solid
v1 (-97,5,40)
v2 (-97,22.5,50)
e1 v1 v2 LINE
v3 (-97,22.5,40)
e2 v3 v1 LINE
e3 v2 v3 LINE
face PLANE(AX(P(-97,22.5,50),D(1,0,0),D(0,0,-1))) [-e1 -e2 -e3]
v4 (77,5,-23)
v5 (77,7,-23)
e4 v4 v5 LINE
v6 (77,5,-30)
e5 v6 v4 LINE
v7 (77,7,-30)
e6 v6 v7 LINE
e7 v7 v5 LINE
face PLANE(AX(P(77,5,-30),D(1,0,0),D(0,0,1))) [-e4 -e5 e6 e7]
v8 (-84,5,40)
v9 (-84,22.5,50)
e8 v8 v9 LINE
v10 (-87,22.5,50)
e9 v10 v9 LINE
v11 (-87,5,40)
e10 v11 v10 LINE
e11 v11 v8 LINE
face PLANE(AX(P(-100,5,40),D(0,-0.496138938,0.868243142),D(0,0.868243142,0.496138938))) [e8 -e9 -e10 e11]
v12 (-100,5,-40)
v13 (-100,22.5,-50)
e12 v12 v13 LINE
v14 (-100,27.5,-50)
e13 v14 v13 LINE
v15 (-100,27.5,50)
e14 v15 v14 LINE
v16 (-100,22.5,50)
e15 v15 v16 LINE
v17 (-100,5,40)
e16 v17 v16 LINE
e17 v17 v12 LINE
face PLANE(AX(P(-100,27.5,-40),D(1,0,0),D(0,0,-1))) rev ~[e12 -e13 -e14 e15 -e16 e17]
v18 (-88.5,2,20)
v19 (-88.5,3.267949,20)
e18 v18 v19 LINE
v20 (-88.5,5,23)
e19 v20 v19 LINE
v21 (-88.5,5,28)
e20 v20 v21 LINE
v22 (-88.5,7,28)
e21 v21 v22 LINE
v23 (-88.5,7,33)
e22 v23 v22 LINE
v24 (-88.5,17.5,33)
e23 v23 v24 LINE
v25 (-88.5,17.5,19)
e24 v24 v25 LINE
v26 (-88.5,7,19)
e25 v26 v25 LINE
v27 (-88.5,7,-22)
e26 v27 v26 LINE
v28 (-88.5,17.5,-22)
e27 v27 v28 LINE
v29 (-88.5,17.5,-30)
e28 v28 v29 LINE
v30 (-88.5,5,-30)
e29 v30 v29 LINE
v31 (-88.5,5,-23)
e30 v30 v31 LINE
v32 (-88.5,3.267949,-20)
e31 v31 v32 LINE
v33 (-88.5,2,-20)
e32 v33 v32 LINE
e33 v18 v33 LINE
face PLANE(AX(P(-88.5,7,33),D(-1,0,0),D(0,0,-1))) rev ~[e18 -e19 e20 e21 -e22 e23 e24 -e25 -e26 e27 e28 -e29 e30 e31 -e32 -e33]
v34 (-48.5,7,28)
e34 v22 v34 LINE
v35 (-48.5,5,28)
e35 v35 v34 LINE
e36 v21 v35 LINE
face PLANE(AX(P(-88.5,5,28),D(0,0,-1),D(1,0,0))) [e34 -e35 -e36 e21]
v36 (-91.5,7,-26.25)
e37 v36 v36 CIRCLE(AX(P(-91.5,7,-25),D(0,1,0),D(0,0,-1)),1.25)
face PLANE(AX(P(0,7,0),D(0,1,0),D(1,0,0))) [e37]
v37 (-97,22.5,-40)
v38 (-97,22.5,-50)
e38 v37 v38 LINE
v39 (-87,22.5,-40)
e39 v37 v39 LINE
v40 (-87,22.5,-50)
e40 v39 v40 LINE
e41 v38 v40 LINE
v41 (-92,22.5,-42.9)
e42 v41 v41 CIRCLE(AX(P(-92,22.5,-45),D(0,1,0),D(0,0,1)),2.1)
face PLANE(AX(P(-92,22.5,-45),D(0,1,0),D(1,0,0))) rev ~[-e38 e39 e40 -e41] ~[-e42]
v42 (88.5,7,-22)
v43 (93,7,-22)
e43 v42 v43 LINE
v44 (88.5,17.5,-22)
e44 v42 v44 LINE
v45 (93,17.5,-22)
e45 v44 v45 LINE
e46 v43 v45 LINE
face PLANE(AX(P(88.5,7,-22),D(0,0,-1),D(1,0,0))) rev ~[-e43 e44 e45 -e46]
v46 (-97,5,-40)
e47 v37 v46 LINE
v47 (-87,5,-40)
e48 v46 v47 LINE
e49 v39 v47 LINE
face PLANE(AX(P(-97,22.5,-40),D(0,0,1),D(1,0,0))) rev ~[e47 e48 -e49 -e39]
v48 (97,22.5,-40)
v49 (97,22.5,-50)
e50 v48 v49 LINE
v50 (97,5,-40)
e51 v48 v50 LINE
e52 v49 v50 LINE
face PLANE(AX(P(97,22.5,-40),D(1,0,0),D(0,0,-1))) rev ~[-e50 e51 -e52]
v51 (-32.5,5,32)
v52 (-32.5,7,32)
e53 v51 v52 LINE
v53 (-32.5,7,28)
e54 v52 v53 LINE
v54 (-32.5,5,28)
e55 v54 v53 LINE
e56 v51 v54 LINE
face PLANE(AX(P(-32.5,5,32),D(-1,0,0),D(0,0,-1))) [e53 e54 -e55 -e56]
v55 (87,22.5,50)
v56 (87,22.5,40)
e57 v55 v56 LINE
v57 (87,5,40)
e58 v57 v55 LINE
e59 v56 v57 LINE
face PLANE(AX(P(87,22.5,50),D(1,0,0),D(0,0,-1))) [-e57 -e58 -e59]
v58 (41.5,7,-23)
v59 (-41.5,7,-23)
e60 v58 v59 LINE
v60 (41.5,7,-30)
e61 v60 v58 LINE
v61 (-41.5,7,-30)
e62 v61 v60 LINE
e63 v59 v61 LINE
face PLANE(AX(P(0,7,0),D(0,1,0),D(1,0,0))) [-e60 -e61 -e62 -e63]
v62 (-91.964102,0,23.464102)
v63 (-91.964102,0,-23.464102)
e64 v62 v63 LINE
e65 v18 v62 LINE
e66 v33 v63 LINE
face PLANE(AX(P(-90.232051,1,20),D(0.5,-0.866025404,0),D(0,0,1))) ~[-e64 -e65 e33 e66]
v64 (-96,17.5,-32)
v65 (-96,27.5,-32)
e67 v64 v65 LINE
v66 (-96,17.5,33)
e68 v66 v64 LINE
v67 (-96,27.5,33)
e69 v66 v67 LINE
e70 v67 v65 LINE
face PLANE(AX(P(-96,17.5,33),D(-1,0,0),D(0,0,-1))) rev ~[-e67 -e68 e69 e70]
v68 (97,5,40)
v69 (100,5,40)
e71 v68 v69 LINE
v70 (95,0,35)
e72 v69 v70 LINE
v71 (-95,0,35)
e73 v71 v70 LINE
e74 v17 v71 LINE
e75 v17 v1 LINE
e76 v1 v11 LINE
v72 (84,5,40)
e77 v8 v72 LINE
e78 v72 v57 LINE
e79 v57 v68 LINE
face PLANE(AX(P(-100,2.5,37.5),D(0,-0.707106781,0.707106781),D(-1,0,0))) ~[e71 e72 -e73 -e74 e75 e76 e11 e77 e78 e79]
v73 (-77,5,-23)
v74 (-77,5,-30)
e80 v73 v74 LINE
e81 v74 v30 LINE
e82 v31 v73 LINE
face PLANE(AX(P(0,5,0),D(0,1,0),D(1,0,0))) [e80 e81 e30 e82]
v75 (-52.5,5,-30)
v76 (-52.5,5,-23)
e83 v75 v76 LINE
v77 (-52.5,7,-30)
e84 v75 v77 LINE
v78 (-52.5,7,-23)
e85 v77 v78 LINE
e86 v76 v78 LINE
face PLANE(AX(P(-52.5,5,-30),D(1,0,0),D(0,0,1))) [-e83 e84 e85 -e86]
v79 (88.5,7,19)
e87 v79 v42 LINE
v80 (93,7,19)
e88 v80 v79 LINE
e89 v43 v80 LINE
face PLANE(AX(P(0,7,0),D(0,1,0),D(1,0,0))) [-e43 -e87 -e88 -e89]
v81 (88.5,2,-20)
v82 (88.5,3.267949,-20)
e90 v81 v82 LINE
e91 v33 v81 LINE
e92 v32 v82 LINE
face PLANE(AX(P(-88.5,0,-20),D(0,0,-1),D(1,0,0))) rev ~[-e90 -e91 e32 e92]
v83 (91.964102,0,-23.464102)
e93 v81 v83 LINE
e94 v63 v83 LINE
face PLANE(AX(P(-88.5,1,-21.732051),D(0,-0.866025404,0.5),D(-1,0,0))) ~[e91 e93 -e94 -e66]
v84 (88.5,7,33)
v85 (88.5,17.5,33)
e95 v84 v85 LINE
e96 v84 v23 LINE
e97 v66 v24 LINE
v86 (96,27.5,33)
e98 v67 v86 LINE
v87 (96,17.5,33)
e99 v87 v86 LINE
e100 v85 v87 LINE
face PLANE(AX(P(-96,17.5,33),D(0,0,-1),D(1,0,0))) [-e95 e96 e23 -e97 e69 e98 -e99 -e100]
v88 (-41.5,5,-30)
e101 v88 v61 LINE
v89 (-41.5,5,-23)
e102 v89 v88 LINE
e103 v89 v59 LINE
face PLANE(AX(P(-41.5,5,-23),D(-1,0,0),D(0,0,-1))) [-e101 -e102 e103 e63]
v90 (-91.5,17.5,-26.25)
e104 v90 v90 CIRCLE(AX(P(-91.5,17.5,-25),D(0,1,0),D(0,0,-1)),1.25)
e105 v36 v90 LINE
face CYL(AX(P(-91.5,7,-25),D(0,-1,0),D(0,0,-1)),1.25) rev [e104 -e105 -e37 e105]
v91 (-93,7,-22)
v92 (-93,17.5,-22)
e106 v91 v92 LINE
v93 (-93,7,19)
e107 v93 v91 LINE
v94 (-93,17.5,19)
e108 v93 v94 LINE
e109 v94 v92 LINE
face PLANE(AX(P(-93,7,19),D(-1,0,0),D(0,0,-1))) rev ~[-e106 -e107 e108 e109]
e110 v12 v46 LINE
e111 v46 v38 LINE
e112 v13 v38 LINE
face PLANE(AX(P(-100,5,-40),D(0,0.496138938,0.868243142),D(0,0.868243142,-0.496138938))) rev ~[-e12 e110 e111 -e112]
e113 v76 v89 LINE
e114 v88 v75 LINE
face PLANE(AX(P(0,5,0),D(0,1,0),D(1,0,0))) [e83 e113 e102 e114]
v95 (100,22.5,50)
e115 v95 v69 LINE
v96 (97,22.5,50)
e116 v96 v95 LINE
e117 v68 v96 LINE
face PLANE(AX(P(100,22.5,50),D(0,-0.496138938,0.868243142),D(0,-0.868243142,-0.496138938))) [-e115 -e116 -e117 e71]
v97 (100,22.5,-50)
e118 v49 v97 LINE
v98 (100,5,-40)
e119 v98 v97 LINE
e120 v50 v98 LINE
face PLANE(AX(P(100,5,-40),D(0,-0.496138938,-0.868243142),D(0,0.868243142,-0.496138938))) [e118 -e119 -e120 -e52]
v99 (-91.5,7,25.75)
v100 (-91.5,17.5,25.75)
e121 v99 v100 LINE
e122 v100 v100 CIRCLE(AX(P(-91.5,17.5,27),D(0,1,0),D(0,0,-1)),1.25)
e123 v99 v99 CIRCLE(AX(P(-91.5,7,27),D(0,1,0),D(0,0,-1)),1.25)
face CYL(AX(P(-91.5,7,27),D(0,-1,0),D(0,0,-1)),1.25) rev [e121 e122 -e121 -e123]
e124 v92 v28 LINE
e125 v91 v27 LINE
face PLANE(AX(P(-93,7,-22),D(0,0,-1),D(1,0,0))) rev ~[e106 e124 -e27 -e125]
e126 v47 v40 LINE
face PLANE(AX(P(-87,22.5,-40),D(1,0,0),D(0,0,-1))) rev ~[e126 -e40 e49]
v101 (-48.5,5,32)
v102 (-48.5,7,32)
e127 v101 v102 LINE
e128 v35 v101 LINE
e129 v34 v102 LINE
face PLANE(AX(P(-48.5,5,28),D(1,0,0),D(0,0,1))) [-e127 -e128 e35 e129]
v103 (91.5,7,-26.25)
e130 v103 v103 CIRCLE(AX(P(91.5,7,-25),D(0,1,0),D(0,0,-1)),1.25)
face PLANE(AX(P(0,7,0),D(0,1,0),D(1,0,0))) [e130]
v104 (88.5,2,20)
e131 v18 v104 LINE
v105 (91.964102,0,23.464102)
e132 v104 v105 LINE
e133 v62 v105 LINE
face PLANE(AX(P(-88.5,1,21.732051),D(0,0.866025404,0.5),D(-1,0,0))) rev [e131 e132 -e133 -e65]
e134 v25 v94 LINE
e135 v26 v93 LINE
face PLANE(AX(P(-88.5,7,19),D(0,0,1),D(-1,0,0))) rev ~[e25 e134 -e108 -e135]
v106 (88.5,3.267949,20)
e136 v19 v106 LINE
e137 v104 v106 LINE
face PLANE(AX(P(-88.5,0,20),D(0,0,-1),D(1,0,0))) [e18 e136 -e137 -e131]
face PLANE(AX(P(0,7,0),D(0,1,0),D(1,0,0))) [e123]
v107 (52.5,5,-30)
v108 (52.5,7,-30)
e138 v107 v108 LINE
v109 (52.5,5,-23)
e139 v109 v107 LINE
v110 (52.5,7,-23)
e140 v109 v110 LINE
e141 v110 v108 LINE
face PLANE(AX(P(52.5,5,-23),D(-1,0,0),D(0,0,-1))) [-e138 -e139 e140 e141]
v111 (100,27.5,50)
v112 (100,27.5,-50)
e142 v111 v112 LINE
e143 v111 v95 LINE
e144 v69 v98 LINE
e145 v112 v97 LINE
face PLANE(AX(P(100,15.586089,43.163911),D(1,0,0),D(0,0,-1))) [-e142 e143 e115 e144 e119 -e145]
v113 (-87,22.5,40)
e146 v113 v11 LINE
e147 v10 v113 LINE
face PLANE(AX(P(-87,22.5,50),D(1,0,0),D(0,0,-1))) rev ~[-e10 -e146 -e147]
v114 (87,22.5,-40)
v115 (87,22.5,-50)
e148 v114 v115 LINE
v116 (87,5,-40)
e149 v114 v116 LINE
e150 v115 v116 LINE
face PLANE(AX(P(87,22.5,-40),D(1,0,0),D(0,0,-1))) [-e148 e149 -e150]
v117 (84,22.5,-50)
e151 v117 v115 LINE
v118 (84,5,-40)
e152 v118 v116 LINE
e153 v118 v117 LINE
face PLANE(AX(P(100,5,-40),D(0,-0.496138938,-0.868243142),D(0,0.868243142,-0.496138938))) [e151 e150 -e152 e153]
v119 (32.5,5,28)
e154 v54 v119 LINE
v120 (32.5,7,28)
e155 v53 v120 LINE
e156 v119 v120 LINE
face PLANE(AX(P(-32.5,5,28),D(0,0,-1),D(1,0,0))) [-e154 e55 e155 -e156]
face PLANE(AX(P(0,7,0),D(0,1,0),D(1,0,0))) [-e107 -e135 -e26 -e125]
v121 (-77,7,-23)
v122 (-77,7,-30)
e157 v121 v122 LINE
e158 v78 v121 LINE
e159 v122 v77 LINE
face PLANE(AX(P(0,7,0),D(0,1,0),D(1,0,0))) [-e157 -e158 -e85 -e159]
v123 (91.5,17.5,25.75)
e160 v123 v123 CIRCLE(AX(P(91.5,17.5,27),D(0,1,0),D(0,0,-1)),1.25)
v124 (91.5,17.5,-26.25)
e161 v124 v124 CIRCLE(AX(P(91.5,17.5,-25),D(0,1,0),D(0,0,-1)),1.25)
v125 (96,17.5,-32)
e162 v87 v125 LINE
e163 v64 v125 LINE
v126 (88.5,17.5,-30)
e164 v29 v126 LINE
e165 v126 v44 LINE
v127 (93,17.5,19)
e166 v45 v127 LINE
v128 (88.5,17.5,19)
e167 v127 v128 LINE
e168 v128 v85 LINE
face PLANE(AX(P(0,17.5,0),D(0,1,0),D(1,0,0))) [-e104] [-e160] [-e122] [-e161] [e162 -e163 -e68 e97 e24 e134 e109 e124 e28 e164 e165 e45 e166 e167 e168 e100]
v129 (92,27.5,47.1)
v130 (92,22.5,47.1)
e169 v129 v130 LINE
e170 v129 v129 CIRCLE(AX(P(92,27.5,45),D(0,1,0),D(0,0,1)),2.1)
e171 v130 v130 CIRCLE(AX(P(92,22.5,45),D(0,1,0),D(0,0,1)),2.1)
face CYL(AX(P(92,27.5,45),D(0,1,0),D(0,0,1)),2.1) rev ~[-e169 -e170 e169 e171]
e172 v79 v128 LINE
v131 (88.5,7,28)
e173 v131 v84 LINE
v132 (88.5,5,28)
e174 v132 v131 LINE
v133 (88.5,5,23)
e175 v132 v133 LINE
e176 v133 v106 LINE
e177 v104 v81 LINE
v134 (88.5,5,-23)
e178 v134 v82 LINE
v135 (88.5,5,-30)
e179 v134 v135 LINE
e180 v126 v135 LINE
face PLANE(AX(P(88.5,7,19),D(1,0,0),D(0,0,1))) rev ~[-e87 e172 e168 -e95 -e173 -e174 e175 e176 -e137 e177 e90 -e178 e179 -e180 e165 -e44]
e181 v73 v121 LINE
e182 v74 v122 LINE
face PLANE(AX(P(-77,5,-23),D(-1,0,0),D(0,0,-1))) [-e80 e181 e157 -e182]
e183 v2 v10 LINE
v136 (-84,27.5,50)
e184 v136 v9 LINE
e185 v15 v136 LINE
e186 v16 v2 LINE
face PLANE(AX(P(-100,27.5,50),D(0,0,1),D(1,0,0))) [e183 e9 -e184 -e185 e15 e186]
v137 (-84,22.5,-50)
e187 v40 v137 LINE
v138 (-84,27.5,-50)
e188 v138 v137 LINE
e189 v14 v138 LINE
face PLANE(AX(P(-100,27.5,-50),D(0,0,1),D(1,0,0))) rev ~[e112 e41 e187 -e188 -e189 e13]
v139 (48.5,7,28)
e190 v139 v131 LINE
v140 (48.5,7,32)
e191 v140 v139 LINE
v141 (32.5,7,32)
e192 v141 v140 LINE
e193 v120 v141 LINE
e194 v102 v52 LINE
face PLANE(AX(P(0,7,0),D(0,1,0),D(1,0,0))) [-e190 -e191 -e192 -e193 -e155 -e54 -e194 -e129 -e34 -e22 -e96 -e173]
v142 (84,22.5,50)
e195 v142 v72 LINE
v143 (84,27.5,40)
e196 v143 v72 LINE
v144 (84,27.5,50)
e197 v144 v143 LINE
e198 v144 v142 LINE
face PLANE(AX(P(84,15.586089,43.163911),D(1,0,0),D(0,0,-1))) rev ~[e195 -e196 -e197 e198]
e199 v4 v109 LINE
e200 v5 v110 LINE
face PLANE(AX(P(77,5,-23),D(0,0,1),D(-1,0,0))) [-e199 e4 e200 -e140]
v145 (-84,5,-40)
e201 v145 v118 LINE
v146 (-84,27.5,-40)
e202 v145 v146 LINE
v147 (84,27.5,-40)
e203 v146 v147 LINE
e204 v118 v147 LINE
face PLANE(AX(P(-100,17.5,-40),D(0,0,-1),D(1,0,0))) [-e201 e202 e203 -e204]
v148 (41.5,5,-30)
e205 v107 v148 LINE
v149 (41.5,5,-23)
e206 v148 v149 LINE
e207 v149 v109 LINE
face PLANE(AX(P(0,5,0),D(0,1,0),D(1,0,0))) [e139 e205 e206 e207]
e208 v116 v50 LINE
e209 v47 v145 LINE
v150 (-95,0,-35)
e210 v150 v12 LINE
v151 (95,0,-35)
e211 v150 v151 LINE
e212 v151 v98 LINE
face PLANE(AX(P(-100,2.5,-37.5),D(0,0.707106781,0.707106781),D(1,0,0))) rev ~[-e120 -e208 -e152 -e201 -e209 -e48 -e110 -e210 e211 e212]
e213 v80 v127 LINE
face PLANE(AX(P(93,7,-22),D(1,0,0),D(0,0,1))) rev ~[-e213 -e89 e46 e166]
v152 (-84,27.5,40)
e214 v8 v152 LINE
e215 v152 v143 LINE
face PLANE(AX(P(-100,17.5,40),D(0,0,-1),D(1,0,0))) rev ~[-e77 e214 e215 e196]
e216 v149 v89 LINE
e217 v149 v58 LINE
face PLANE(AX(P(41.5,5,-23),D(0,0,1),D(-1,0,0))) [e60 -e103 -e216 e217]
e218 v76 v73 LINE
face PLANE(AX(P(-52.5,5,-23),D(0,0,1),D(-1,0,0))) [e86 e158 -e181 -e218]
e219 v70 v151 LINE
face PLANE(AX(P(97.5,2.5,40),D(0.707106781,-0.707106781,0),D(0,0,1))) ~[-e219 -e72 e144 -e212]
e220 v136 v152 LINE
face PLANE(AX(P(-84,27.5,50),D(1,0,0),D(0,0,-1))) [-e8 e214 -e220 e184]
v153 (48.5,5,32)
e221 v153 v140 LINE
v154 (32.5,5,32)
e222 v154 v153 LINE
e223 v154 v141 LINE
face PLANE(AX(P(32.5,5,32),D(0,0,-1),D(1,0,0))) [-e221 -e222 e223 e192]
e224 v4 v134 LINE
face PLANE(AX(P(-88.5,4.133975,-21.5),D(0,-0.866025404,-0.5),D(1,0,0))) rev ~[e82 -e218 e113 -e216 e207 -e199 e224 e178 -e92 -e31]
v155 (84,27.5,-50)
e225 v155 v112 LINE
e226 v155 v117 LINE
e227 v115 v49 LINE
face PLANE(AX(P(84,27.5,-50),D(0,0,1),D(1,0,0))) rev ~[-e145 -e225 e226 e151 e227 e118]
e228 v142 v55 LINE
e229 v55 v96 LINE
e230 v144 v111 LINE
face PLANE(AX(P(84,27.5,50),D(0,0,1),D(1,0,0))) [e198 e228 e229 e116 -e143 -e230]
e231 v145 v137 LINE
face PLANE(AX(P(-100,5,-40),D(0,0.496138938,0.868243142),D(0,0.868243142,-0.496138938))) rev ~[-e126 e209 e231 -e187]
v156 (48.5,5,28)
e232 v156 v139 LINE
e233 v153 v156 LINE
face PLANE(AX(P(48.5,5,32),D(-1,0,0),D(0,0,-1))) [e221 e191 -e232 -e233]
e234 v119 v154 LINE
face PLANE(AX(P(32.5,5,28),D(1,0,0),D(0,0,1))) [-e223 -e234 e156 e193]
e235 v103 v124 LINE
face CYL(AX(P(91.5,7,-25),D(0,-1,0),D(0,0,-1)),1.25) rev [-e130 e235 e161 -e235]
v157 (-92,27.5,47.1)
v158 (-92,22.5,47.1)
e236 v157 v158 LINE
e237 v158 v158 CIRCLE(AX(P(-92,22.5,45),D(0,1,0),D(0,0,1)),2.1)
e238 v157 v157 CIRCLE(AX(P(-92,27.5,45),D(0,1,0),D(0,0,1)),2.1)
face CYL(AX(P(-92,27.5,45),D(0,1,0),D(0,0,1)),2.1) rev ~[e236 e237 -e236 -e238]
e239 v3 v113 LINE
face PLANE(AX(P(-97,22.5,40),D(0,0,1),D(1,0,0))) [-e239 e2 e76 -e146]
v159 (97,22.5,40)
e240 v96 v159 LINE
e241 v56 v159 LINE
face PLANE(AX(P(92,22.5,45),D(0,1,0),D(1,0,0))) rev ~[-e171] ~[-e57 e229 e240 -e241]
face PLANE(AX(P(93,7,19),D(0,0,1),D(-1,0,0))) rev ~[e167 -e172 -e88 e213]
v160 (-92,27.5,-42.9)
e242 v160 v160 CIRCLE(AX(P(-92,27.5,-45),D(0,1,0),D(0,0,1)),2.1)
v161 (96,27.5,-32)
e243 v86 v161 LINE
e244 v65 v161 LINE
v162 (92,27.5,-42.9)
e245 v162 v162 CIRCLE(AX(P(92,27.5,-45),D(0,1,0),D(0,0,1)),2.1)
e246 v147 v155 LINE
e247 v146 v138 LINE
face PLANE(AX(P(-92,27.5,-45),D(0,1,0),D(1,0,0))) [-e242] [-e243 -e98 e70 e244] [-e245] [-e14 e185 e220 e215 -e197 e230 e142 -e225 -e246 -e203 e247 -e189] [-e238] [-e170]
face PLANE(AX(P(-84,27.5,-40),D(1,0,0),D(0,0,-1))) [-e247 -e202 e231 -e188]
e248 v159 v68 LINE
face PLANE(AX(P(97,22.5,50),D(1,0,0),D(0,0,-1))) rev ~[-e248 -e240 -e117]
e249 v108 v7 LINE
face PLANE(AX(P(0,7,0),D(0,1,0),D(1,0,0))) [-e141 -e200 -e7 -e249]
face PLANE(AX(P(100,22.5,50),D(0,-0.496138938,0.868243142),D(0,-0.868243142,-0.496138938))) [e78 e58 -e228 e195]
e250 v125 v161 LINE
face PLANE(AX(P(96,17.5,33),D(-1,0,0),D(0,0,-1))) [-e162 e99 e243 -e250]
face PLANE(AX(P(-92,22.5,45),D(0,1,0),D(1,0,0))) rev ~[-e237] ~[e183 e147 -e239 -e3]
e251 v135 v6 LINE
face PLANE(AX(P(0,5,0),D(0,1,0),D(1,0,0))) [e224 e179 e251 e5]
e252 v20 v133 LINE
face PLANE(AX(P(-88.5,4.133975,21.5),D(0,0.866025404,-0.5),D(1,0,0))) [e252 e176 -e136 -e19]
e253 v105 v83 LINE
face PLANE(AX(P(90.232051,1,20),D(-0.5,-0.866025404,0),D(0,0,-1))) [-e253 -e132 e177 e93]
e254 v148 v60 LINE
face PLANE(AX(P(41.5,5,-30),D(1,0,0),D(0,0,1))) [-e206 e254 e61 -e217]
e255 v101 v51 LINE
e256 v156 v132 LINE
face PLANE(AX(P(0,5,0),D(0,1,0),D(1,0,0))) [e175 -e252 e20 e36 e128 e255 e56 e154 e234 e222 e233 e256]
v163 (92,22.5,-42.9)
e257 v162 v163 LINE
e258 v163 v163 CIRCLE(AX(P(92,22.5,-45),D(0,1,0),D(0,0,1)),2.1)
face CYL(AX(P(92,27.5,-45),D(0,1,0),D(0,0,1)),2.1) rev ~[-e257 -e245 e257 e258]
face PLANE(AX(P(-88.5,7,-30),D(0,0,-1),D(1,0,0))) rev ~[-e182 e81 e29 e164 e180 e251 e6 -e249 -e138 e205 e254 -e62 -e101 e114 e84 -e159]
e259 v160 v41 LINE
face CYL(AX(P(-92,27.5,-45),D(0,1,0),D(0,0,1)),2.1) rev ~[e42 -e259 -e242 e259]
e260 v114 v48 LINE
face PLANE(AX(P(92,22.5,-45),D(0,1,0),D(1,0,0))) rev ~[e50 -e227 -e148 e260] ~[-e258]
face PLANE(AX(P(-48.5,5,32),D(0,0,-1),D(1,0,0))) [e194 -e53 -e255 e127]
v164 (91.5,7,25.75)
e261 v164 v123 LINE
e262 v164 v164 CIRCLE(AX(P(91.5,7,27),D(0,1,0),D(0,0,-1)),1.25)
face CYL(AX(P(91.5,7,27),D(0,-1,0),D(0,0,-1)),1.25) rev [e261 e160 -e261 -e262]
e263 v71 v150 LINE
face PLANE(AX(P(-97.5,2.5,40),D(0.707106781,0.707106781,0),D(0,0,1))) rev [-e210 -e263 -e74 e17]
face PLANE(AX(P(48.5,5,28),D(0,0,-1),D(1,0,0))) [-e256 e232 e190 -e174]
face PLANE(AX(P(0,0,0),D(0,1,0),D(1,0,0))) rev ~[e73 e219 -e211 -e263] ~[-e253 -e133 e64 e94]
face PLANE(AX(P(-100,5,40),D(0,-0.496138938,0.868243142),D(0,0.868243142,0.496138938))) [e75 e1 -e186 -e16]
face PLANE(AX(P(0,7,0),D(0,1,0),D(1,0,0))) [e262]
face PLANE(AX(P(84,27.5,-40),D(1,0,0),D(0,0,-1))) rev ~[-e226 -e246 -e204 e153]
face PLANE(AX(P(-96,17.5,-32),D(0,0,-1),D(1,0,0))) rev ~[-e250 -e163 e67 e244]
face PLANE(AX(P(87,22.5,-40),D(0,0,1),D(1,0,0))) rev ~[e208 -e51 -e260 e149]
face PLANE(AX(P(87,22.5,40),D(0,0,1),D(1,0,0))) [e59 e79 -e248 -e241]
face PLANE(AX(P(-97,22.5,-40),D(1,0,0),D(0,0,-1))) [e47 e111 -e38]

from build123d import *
from OCP.BRepFilletAPI import BRepFilletAPI_MakeChamfer

# Parameters (mm, degrees)
SKETCH_1_W          = 200
SKETCH_1_H          = 80
SKETCH_1_W_2        = 177
SKETCH_1_H_2        = 40
EXTRUDE_1_DEPTH     = 5
CHAMFER_1_SIZE      = 3
CHAMFER_1_SIZE2     = 1.732050808
SKETCH_2_W          = 200
SKETCH_2_H          = 80
EXTRUDE_2_DEPTH     = 2
SKETCH_3_W          = 200
SKETCH_3_H          = 80
SKETCH_3_R          = 1.25
EXTRUDE_3_DEPTH     = 10.5
SKETCH_4_W          = 200
SKETCH_4_H          = 80
SKETCH_4_W_2        = 192
SKETCH_4_H_2        = 65
EXTRUDE_4_DEPTH     = 10
CHAMFER_2_SIZE      = 5
SKETCH_6_W          = 16
SKETCH_6_H          = 10
SKETCH_6_R          = 2.1
EXTRUDE_6_DEPTH     = 5
EXTRUDE_9_DEPTH     = 16
EXTRUDE_10_DEPTH    = 16
SKETCH_12_W         = 10
SKETCH_12_H         = 10
CUT_EXTRUDE_2_DEPTH = 22
CHAMFER_3_SIZE      = 2
CHAMFER_3_SIZE2     = 3.464101615


with BuildPart() as part:
    # Эскиз1 → Бобышка-Вытянуть1 (new body)
    with BuildSketch(Plane(origin=(0, 0, 0), x_dir=(1, 0, 0), z_dir=(0, 1, 0))):
        Rectangle(SKETCH_1_W, SKETCH_1_H)
        Rectangle(SKETCH_1_W_2, SKETCH_1_H_2, mode=Mode.SUBTRACT)
    extrude(amount=EXTRUDE_1_DEPTH)

    # Фаска1
    chamfer_1_edges = [part.edges().sort_by_distance(p)[0] for p in [
        (0, 5, -20),
        (0, 5, 20),
    ]]
    chamfer_1_side = [part.faces().sort_by_distance(p)[0] for p in [
        (0, 5, -37.845934077),
    ]]
    chamfer(chamfer_1_edges, length=CHAMFER_1_SIZE, length2=CHAMFER_1_SIZE2, reference=chamfer_1_side[0])

    # Эскиз2 → Бобышка-Вытянуть2 (add)
    with BuildSketch(Plane(origin=(0, 5, 0), x_dir=(1, 0, 0), z_dir=(0, 1, 0))):
        Rectangle(SKETCH_2_W, SKETCH_2_H)
        Polygon((-88.5, 30), (-88.5, -28), (-48.5, -28), (-48.5, -32), (-32.5, -32), (-32.5, -28), (32.5, -28), (32.5, -32), (48.5, -32), (48.5, -28), (88.5, -28), (88.5, 30), (77, 30), (77, 23), (52.5, 23), (52.5, 30), (41.5, 30), (41.5, 23), (-41.5, 23), (-41.5, 30), (-52.5, 30), (-52.5, 23), (-77, 23), (-77, 30), align=None, mode=Mode.SUBTRACT)
    extrude(amount=EXTRUDE_2_DEPTH)

    # Эскиз3 → Бобышка-Вытянуть3 (add)
    with BuildSketch(Plane(origin=(0, 7, 0), x_dir=(1, 0, 0), z_dir=(0, 1, 0))):
        Rectangle(SKETCH_3_W, SKETCH_3_H)
        with Locations(Location((-91.5, 25, 0), (0, 0, 90))):
            Circle(SKETCH_3_R, mode=Mode.SUBTRACT)
        with Locations(Location((91.5, 25, 0), (0, 0, 90))):
            Circle(SKETCH_3_R, mode=Mode.SUBTRACT)
        with Locations(Location((-91.5, -27, 0), (0, 0, 90))):
            Circle(SKETCH_3_R, mode=Mode.SUBTRACT)
        with Locations(Location((91.5, -27, 0), (0, 0, 90))):
            Circle(SKETCH_3_R, mode=Mode.SUBTRACT)
        Polygon((-93, 22), (-88.5, 22), (-88.5, 30), (88.5, 30), (88.5, 22), (93, 22), (93, -19), (88.5, -19), (88.5, -33), (-88.5, -33), (-88.5, -19), (-93, -19), align=None, mode=Mode.SUBTRACT)
    extrude(amount=EXTRUDE_3_DEPTH)

    # Эскиз4 → Бобышка-Вытянуть4 (add)
    with BuildSketch(Plane(origin=(0, 17.5, 0), x_dir=(1, 0, 0), z_dir=(0, 1, 0))):
        Rectangle(SKETCH_4_W, SKETCH_4_H)
        with Locations((0, -0.5)):
            Rectangle(SKETCH_4_W_2, SKETCH_4_H_2, mode=Mode.SUBTRACT)
    extrude(amount=EXTRUDE_4_DEPTH)

    # Фаска2
    chamfer_2_edges = [part.edges().sort_by_distance(p)[0] for p in [
        (0, 0, -40),
        (100, 0, 0),
        (0, 0, 40),
        (-100, 0, 0),
    ]]
    chamfer(chamfer_2_edges, length=CHAMFER_2_SIZE)

    # Эскиз6 → Бобышка-Вытянуть6 (add)
    # profile 1 of 4: a face of its own
    with BuildSketch(Plane(origin=(0, 27.5, 0), x_dir=(1, 0, 0), z_dir=(0, 1, 0))):
        with Locations((-92, 45)):
            Rectangle(SKETCH_6_W, SKETCH_6_H)
        with Locations(Location((-92, 45, 0), (0, 0, 270))):
            Circle(SKETCH_6_R, mode=Mode.SUBTRACT)
    # profile 2 of 4: a face of its own
    with BuildSketch(Plane(origin=(0, 27.5, 0), x_dir=(1, 0, 0), z_dir=(0, 1, 0))):
        with Locations((92, 45)):
            Rectangle(SKETCH_6_W, SKETCH_6_H)
        with Locations(Location((92, 45, 0), (0, 0, 270))):
            Circle(SKETCH_6_R, mode=Mode.SUBTRACT)
    # profile 3 of 4: a face of its own
    with BuildSketch(Plane(origin=(0, 27.5, 0), x_dir=(1, 0, 0), z_dir=(0, 1, 0))):
        with Locations((92, -45)):
            Rectangle(SKETCH_6_W, SKETCH_6_H)
        with Locations(Location((92, -45, 0), (0, 0, 270))):
            Circle(SKETCH_6_R, mode=Mode.SUBTRACT)
    # profile 4 of 4: a face of its own
    with BuildSketch(Plane(origin=(0, 27.5, 0), x_dir=(1, 0, 0), z_dir=(0, 1, 0))):
        with Locations((-92, -45)):
            Rectangle(SKETCH_6_W, SKETCH_6_H)
        with Locations(Location((-92, -45, 0), (0, 0, 270))):
            Circle(SKETCH_6_R, mode=Mode.SUBTRACT)
    extrude(amount=-EXTRUDE_6_DEPTH)

    # Эскиз10 → Бобышка-Вытянуть9 (add)
    with BuildSketch(Plane(origin=(100, 0, 0), x_dir=(0, 0, -1), z_dir=(1, 0, 0))):
        Polygon((-50, 22.5), (-40, 5), (-40, 22.5), align=None)
        Polygon((40, 5), (50, 22.5), (40, 22.5), align=None)
    extrude(amount=-EXTRUDE_9_DEPTH)

    # Эскиз11 → Бобышка-Вытянуть10 (add)
    with BuildSketch(Plane.ZY.offset(100)):
        Polygon((-50, 22.5), (-40, 22.5), (-40, 5), align=None)
        Polygon((40, 5), (50, 22.5), (40, 22.5), align=None)
    extrude(amount=-EXTRUDE_10_DEPTH)

    # Эскиз12 → Вырез-Вытянуть2 (cut)
    with BuildSketch(Plane(origin=(0, 22.5, 0), x_dir=(1, 0, 0), z_dir=(0, 1, 0))):
        with Locations((-92, -45)):
            Rectangle(SKETCH_12_W, SKETCH_12_H)
        with Locations((-92, 45)):
            Rectangle(SKETCH_12_W, SKETCH_12_H)
        with Locations((92, 45)):
            Rectangle(SKETCH_12_W, SKETCH_12_H)
        with Locations((92, -45)):
            Rectangle(SKETCH_12_W, SKETCH_12_H)
    extrude(amount=-CUT_EXTRUDE_2_DEPTH, mode=Mode.SUBTRACT)

    # Фаска3: one chamfer whose edges measure the first distance from different faces: ONE call of the kernel's chamfer builder (chamfer() names one face for all edges)
    chamfer_3_edges_1 = [part.edges().sort_by_distance(p)[0] for p in [
        (88.5, 0, 0),
    ]]
    chamfer_3_side_1 = [part.faces().sort_by_distance(p)[0] for p in [
        (88.5, 1.633974596, -19.346146041),
    ]]
    chamfer_3_edges_2 = [part.edges().sort_by_distance(p)[0] for p in [
        (0, 0, -20),
    ]]
    chamfer_3_side_2 = [part.faces().sort_by_distance(p)[0] for p in [
        (0, 1.633974596, -20),
    ]]
    chamfer_3_edges_3 = [part.edges().sort_by_distance(p)[0] for p in [
        (-88.5, 0, 0),
    ]]
    chamfer_3_side_3 = [part.faces().sort_by_distance(p)[0] for p in [
        (-88.5, 1.633974596, 19.346146041),
    ]]
    chamfer_3_edges_4 = [part.edges().sort_by_distance(p)[0] for p in [
        (0, 0, 20),
    ]]
    chamfer_3_side_4 = [part.faces().sort_by_distance(p)[0] for p in [
        (0, 1.633974596, 20),
    ]]
    chamfer_3 = BRepFilletAPI_MakeChamfer(part.part.solid().wrapped)
    for e in chamfer_3_edges_1:
        chamfer_3.Add(CHAMFER_3_SIZE, CHAMFER_3_SIZE2, e.wrapped, chamfer_3_side_1[0].wrapped)  # the first distance lies on this face
    for e in chamfer_3_edges_2:
        chamfer_3.Add(CHAMFER_3_SIZE, CHAMFER_3_SIZE2, e.wrapped, chamfer_3_side_2[0].wrapped)  # the first distance lies on this face
    for e in chamfer_3_edges_3:
        chamfer_3.Add(CHAMFER_3_SIZE, CHAMFER_3_SIZE2, e.wrapped, chamfer_3_side_3[0].wrapped)  # the first distance lies on this face
    for e in chamfer_3_edges_4:
        chamfer_3.Add(CHAMFER_3_SIZE, CHAMFER_3_SIZE2, e.wrapped, chamfer_3_side_4[0].wrapped)  # the first distance lies on this face
    add(Compound.cast(chamfer_3.Shape()), mode=Mode.REPLACE)


solid = part.part
